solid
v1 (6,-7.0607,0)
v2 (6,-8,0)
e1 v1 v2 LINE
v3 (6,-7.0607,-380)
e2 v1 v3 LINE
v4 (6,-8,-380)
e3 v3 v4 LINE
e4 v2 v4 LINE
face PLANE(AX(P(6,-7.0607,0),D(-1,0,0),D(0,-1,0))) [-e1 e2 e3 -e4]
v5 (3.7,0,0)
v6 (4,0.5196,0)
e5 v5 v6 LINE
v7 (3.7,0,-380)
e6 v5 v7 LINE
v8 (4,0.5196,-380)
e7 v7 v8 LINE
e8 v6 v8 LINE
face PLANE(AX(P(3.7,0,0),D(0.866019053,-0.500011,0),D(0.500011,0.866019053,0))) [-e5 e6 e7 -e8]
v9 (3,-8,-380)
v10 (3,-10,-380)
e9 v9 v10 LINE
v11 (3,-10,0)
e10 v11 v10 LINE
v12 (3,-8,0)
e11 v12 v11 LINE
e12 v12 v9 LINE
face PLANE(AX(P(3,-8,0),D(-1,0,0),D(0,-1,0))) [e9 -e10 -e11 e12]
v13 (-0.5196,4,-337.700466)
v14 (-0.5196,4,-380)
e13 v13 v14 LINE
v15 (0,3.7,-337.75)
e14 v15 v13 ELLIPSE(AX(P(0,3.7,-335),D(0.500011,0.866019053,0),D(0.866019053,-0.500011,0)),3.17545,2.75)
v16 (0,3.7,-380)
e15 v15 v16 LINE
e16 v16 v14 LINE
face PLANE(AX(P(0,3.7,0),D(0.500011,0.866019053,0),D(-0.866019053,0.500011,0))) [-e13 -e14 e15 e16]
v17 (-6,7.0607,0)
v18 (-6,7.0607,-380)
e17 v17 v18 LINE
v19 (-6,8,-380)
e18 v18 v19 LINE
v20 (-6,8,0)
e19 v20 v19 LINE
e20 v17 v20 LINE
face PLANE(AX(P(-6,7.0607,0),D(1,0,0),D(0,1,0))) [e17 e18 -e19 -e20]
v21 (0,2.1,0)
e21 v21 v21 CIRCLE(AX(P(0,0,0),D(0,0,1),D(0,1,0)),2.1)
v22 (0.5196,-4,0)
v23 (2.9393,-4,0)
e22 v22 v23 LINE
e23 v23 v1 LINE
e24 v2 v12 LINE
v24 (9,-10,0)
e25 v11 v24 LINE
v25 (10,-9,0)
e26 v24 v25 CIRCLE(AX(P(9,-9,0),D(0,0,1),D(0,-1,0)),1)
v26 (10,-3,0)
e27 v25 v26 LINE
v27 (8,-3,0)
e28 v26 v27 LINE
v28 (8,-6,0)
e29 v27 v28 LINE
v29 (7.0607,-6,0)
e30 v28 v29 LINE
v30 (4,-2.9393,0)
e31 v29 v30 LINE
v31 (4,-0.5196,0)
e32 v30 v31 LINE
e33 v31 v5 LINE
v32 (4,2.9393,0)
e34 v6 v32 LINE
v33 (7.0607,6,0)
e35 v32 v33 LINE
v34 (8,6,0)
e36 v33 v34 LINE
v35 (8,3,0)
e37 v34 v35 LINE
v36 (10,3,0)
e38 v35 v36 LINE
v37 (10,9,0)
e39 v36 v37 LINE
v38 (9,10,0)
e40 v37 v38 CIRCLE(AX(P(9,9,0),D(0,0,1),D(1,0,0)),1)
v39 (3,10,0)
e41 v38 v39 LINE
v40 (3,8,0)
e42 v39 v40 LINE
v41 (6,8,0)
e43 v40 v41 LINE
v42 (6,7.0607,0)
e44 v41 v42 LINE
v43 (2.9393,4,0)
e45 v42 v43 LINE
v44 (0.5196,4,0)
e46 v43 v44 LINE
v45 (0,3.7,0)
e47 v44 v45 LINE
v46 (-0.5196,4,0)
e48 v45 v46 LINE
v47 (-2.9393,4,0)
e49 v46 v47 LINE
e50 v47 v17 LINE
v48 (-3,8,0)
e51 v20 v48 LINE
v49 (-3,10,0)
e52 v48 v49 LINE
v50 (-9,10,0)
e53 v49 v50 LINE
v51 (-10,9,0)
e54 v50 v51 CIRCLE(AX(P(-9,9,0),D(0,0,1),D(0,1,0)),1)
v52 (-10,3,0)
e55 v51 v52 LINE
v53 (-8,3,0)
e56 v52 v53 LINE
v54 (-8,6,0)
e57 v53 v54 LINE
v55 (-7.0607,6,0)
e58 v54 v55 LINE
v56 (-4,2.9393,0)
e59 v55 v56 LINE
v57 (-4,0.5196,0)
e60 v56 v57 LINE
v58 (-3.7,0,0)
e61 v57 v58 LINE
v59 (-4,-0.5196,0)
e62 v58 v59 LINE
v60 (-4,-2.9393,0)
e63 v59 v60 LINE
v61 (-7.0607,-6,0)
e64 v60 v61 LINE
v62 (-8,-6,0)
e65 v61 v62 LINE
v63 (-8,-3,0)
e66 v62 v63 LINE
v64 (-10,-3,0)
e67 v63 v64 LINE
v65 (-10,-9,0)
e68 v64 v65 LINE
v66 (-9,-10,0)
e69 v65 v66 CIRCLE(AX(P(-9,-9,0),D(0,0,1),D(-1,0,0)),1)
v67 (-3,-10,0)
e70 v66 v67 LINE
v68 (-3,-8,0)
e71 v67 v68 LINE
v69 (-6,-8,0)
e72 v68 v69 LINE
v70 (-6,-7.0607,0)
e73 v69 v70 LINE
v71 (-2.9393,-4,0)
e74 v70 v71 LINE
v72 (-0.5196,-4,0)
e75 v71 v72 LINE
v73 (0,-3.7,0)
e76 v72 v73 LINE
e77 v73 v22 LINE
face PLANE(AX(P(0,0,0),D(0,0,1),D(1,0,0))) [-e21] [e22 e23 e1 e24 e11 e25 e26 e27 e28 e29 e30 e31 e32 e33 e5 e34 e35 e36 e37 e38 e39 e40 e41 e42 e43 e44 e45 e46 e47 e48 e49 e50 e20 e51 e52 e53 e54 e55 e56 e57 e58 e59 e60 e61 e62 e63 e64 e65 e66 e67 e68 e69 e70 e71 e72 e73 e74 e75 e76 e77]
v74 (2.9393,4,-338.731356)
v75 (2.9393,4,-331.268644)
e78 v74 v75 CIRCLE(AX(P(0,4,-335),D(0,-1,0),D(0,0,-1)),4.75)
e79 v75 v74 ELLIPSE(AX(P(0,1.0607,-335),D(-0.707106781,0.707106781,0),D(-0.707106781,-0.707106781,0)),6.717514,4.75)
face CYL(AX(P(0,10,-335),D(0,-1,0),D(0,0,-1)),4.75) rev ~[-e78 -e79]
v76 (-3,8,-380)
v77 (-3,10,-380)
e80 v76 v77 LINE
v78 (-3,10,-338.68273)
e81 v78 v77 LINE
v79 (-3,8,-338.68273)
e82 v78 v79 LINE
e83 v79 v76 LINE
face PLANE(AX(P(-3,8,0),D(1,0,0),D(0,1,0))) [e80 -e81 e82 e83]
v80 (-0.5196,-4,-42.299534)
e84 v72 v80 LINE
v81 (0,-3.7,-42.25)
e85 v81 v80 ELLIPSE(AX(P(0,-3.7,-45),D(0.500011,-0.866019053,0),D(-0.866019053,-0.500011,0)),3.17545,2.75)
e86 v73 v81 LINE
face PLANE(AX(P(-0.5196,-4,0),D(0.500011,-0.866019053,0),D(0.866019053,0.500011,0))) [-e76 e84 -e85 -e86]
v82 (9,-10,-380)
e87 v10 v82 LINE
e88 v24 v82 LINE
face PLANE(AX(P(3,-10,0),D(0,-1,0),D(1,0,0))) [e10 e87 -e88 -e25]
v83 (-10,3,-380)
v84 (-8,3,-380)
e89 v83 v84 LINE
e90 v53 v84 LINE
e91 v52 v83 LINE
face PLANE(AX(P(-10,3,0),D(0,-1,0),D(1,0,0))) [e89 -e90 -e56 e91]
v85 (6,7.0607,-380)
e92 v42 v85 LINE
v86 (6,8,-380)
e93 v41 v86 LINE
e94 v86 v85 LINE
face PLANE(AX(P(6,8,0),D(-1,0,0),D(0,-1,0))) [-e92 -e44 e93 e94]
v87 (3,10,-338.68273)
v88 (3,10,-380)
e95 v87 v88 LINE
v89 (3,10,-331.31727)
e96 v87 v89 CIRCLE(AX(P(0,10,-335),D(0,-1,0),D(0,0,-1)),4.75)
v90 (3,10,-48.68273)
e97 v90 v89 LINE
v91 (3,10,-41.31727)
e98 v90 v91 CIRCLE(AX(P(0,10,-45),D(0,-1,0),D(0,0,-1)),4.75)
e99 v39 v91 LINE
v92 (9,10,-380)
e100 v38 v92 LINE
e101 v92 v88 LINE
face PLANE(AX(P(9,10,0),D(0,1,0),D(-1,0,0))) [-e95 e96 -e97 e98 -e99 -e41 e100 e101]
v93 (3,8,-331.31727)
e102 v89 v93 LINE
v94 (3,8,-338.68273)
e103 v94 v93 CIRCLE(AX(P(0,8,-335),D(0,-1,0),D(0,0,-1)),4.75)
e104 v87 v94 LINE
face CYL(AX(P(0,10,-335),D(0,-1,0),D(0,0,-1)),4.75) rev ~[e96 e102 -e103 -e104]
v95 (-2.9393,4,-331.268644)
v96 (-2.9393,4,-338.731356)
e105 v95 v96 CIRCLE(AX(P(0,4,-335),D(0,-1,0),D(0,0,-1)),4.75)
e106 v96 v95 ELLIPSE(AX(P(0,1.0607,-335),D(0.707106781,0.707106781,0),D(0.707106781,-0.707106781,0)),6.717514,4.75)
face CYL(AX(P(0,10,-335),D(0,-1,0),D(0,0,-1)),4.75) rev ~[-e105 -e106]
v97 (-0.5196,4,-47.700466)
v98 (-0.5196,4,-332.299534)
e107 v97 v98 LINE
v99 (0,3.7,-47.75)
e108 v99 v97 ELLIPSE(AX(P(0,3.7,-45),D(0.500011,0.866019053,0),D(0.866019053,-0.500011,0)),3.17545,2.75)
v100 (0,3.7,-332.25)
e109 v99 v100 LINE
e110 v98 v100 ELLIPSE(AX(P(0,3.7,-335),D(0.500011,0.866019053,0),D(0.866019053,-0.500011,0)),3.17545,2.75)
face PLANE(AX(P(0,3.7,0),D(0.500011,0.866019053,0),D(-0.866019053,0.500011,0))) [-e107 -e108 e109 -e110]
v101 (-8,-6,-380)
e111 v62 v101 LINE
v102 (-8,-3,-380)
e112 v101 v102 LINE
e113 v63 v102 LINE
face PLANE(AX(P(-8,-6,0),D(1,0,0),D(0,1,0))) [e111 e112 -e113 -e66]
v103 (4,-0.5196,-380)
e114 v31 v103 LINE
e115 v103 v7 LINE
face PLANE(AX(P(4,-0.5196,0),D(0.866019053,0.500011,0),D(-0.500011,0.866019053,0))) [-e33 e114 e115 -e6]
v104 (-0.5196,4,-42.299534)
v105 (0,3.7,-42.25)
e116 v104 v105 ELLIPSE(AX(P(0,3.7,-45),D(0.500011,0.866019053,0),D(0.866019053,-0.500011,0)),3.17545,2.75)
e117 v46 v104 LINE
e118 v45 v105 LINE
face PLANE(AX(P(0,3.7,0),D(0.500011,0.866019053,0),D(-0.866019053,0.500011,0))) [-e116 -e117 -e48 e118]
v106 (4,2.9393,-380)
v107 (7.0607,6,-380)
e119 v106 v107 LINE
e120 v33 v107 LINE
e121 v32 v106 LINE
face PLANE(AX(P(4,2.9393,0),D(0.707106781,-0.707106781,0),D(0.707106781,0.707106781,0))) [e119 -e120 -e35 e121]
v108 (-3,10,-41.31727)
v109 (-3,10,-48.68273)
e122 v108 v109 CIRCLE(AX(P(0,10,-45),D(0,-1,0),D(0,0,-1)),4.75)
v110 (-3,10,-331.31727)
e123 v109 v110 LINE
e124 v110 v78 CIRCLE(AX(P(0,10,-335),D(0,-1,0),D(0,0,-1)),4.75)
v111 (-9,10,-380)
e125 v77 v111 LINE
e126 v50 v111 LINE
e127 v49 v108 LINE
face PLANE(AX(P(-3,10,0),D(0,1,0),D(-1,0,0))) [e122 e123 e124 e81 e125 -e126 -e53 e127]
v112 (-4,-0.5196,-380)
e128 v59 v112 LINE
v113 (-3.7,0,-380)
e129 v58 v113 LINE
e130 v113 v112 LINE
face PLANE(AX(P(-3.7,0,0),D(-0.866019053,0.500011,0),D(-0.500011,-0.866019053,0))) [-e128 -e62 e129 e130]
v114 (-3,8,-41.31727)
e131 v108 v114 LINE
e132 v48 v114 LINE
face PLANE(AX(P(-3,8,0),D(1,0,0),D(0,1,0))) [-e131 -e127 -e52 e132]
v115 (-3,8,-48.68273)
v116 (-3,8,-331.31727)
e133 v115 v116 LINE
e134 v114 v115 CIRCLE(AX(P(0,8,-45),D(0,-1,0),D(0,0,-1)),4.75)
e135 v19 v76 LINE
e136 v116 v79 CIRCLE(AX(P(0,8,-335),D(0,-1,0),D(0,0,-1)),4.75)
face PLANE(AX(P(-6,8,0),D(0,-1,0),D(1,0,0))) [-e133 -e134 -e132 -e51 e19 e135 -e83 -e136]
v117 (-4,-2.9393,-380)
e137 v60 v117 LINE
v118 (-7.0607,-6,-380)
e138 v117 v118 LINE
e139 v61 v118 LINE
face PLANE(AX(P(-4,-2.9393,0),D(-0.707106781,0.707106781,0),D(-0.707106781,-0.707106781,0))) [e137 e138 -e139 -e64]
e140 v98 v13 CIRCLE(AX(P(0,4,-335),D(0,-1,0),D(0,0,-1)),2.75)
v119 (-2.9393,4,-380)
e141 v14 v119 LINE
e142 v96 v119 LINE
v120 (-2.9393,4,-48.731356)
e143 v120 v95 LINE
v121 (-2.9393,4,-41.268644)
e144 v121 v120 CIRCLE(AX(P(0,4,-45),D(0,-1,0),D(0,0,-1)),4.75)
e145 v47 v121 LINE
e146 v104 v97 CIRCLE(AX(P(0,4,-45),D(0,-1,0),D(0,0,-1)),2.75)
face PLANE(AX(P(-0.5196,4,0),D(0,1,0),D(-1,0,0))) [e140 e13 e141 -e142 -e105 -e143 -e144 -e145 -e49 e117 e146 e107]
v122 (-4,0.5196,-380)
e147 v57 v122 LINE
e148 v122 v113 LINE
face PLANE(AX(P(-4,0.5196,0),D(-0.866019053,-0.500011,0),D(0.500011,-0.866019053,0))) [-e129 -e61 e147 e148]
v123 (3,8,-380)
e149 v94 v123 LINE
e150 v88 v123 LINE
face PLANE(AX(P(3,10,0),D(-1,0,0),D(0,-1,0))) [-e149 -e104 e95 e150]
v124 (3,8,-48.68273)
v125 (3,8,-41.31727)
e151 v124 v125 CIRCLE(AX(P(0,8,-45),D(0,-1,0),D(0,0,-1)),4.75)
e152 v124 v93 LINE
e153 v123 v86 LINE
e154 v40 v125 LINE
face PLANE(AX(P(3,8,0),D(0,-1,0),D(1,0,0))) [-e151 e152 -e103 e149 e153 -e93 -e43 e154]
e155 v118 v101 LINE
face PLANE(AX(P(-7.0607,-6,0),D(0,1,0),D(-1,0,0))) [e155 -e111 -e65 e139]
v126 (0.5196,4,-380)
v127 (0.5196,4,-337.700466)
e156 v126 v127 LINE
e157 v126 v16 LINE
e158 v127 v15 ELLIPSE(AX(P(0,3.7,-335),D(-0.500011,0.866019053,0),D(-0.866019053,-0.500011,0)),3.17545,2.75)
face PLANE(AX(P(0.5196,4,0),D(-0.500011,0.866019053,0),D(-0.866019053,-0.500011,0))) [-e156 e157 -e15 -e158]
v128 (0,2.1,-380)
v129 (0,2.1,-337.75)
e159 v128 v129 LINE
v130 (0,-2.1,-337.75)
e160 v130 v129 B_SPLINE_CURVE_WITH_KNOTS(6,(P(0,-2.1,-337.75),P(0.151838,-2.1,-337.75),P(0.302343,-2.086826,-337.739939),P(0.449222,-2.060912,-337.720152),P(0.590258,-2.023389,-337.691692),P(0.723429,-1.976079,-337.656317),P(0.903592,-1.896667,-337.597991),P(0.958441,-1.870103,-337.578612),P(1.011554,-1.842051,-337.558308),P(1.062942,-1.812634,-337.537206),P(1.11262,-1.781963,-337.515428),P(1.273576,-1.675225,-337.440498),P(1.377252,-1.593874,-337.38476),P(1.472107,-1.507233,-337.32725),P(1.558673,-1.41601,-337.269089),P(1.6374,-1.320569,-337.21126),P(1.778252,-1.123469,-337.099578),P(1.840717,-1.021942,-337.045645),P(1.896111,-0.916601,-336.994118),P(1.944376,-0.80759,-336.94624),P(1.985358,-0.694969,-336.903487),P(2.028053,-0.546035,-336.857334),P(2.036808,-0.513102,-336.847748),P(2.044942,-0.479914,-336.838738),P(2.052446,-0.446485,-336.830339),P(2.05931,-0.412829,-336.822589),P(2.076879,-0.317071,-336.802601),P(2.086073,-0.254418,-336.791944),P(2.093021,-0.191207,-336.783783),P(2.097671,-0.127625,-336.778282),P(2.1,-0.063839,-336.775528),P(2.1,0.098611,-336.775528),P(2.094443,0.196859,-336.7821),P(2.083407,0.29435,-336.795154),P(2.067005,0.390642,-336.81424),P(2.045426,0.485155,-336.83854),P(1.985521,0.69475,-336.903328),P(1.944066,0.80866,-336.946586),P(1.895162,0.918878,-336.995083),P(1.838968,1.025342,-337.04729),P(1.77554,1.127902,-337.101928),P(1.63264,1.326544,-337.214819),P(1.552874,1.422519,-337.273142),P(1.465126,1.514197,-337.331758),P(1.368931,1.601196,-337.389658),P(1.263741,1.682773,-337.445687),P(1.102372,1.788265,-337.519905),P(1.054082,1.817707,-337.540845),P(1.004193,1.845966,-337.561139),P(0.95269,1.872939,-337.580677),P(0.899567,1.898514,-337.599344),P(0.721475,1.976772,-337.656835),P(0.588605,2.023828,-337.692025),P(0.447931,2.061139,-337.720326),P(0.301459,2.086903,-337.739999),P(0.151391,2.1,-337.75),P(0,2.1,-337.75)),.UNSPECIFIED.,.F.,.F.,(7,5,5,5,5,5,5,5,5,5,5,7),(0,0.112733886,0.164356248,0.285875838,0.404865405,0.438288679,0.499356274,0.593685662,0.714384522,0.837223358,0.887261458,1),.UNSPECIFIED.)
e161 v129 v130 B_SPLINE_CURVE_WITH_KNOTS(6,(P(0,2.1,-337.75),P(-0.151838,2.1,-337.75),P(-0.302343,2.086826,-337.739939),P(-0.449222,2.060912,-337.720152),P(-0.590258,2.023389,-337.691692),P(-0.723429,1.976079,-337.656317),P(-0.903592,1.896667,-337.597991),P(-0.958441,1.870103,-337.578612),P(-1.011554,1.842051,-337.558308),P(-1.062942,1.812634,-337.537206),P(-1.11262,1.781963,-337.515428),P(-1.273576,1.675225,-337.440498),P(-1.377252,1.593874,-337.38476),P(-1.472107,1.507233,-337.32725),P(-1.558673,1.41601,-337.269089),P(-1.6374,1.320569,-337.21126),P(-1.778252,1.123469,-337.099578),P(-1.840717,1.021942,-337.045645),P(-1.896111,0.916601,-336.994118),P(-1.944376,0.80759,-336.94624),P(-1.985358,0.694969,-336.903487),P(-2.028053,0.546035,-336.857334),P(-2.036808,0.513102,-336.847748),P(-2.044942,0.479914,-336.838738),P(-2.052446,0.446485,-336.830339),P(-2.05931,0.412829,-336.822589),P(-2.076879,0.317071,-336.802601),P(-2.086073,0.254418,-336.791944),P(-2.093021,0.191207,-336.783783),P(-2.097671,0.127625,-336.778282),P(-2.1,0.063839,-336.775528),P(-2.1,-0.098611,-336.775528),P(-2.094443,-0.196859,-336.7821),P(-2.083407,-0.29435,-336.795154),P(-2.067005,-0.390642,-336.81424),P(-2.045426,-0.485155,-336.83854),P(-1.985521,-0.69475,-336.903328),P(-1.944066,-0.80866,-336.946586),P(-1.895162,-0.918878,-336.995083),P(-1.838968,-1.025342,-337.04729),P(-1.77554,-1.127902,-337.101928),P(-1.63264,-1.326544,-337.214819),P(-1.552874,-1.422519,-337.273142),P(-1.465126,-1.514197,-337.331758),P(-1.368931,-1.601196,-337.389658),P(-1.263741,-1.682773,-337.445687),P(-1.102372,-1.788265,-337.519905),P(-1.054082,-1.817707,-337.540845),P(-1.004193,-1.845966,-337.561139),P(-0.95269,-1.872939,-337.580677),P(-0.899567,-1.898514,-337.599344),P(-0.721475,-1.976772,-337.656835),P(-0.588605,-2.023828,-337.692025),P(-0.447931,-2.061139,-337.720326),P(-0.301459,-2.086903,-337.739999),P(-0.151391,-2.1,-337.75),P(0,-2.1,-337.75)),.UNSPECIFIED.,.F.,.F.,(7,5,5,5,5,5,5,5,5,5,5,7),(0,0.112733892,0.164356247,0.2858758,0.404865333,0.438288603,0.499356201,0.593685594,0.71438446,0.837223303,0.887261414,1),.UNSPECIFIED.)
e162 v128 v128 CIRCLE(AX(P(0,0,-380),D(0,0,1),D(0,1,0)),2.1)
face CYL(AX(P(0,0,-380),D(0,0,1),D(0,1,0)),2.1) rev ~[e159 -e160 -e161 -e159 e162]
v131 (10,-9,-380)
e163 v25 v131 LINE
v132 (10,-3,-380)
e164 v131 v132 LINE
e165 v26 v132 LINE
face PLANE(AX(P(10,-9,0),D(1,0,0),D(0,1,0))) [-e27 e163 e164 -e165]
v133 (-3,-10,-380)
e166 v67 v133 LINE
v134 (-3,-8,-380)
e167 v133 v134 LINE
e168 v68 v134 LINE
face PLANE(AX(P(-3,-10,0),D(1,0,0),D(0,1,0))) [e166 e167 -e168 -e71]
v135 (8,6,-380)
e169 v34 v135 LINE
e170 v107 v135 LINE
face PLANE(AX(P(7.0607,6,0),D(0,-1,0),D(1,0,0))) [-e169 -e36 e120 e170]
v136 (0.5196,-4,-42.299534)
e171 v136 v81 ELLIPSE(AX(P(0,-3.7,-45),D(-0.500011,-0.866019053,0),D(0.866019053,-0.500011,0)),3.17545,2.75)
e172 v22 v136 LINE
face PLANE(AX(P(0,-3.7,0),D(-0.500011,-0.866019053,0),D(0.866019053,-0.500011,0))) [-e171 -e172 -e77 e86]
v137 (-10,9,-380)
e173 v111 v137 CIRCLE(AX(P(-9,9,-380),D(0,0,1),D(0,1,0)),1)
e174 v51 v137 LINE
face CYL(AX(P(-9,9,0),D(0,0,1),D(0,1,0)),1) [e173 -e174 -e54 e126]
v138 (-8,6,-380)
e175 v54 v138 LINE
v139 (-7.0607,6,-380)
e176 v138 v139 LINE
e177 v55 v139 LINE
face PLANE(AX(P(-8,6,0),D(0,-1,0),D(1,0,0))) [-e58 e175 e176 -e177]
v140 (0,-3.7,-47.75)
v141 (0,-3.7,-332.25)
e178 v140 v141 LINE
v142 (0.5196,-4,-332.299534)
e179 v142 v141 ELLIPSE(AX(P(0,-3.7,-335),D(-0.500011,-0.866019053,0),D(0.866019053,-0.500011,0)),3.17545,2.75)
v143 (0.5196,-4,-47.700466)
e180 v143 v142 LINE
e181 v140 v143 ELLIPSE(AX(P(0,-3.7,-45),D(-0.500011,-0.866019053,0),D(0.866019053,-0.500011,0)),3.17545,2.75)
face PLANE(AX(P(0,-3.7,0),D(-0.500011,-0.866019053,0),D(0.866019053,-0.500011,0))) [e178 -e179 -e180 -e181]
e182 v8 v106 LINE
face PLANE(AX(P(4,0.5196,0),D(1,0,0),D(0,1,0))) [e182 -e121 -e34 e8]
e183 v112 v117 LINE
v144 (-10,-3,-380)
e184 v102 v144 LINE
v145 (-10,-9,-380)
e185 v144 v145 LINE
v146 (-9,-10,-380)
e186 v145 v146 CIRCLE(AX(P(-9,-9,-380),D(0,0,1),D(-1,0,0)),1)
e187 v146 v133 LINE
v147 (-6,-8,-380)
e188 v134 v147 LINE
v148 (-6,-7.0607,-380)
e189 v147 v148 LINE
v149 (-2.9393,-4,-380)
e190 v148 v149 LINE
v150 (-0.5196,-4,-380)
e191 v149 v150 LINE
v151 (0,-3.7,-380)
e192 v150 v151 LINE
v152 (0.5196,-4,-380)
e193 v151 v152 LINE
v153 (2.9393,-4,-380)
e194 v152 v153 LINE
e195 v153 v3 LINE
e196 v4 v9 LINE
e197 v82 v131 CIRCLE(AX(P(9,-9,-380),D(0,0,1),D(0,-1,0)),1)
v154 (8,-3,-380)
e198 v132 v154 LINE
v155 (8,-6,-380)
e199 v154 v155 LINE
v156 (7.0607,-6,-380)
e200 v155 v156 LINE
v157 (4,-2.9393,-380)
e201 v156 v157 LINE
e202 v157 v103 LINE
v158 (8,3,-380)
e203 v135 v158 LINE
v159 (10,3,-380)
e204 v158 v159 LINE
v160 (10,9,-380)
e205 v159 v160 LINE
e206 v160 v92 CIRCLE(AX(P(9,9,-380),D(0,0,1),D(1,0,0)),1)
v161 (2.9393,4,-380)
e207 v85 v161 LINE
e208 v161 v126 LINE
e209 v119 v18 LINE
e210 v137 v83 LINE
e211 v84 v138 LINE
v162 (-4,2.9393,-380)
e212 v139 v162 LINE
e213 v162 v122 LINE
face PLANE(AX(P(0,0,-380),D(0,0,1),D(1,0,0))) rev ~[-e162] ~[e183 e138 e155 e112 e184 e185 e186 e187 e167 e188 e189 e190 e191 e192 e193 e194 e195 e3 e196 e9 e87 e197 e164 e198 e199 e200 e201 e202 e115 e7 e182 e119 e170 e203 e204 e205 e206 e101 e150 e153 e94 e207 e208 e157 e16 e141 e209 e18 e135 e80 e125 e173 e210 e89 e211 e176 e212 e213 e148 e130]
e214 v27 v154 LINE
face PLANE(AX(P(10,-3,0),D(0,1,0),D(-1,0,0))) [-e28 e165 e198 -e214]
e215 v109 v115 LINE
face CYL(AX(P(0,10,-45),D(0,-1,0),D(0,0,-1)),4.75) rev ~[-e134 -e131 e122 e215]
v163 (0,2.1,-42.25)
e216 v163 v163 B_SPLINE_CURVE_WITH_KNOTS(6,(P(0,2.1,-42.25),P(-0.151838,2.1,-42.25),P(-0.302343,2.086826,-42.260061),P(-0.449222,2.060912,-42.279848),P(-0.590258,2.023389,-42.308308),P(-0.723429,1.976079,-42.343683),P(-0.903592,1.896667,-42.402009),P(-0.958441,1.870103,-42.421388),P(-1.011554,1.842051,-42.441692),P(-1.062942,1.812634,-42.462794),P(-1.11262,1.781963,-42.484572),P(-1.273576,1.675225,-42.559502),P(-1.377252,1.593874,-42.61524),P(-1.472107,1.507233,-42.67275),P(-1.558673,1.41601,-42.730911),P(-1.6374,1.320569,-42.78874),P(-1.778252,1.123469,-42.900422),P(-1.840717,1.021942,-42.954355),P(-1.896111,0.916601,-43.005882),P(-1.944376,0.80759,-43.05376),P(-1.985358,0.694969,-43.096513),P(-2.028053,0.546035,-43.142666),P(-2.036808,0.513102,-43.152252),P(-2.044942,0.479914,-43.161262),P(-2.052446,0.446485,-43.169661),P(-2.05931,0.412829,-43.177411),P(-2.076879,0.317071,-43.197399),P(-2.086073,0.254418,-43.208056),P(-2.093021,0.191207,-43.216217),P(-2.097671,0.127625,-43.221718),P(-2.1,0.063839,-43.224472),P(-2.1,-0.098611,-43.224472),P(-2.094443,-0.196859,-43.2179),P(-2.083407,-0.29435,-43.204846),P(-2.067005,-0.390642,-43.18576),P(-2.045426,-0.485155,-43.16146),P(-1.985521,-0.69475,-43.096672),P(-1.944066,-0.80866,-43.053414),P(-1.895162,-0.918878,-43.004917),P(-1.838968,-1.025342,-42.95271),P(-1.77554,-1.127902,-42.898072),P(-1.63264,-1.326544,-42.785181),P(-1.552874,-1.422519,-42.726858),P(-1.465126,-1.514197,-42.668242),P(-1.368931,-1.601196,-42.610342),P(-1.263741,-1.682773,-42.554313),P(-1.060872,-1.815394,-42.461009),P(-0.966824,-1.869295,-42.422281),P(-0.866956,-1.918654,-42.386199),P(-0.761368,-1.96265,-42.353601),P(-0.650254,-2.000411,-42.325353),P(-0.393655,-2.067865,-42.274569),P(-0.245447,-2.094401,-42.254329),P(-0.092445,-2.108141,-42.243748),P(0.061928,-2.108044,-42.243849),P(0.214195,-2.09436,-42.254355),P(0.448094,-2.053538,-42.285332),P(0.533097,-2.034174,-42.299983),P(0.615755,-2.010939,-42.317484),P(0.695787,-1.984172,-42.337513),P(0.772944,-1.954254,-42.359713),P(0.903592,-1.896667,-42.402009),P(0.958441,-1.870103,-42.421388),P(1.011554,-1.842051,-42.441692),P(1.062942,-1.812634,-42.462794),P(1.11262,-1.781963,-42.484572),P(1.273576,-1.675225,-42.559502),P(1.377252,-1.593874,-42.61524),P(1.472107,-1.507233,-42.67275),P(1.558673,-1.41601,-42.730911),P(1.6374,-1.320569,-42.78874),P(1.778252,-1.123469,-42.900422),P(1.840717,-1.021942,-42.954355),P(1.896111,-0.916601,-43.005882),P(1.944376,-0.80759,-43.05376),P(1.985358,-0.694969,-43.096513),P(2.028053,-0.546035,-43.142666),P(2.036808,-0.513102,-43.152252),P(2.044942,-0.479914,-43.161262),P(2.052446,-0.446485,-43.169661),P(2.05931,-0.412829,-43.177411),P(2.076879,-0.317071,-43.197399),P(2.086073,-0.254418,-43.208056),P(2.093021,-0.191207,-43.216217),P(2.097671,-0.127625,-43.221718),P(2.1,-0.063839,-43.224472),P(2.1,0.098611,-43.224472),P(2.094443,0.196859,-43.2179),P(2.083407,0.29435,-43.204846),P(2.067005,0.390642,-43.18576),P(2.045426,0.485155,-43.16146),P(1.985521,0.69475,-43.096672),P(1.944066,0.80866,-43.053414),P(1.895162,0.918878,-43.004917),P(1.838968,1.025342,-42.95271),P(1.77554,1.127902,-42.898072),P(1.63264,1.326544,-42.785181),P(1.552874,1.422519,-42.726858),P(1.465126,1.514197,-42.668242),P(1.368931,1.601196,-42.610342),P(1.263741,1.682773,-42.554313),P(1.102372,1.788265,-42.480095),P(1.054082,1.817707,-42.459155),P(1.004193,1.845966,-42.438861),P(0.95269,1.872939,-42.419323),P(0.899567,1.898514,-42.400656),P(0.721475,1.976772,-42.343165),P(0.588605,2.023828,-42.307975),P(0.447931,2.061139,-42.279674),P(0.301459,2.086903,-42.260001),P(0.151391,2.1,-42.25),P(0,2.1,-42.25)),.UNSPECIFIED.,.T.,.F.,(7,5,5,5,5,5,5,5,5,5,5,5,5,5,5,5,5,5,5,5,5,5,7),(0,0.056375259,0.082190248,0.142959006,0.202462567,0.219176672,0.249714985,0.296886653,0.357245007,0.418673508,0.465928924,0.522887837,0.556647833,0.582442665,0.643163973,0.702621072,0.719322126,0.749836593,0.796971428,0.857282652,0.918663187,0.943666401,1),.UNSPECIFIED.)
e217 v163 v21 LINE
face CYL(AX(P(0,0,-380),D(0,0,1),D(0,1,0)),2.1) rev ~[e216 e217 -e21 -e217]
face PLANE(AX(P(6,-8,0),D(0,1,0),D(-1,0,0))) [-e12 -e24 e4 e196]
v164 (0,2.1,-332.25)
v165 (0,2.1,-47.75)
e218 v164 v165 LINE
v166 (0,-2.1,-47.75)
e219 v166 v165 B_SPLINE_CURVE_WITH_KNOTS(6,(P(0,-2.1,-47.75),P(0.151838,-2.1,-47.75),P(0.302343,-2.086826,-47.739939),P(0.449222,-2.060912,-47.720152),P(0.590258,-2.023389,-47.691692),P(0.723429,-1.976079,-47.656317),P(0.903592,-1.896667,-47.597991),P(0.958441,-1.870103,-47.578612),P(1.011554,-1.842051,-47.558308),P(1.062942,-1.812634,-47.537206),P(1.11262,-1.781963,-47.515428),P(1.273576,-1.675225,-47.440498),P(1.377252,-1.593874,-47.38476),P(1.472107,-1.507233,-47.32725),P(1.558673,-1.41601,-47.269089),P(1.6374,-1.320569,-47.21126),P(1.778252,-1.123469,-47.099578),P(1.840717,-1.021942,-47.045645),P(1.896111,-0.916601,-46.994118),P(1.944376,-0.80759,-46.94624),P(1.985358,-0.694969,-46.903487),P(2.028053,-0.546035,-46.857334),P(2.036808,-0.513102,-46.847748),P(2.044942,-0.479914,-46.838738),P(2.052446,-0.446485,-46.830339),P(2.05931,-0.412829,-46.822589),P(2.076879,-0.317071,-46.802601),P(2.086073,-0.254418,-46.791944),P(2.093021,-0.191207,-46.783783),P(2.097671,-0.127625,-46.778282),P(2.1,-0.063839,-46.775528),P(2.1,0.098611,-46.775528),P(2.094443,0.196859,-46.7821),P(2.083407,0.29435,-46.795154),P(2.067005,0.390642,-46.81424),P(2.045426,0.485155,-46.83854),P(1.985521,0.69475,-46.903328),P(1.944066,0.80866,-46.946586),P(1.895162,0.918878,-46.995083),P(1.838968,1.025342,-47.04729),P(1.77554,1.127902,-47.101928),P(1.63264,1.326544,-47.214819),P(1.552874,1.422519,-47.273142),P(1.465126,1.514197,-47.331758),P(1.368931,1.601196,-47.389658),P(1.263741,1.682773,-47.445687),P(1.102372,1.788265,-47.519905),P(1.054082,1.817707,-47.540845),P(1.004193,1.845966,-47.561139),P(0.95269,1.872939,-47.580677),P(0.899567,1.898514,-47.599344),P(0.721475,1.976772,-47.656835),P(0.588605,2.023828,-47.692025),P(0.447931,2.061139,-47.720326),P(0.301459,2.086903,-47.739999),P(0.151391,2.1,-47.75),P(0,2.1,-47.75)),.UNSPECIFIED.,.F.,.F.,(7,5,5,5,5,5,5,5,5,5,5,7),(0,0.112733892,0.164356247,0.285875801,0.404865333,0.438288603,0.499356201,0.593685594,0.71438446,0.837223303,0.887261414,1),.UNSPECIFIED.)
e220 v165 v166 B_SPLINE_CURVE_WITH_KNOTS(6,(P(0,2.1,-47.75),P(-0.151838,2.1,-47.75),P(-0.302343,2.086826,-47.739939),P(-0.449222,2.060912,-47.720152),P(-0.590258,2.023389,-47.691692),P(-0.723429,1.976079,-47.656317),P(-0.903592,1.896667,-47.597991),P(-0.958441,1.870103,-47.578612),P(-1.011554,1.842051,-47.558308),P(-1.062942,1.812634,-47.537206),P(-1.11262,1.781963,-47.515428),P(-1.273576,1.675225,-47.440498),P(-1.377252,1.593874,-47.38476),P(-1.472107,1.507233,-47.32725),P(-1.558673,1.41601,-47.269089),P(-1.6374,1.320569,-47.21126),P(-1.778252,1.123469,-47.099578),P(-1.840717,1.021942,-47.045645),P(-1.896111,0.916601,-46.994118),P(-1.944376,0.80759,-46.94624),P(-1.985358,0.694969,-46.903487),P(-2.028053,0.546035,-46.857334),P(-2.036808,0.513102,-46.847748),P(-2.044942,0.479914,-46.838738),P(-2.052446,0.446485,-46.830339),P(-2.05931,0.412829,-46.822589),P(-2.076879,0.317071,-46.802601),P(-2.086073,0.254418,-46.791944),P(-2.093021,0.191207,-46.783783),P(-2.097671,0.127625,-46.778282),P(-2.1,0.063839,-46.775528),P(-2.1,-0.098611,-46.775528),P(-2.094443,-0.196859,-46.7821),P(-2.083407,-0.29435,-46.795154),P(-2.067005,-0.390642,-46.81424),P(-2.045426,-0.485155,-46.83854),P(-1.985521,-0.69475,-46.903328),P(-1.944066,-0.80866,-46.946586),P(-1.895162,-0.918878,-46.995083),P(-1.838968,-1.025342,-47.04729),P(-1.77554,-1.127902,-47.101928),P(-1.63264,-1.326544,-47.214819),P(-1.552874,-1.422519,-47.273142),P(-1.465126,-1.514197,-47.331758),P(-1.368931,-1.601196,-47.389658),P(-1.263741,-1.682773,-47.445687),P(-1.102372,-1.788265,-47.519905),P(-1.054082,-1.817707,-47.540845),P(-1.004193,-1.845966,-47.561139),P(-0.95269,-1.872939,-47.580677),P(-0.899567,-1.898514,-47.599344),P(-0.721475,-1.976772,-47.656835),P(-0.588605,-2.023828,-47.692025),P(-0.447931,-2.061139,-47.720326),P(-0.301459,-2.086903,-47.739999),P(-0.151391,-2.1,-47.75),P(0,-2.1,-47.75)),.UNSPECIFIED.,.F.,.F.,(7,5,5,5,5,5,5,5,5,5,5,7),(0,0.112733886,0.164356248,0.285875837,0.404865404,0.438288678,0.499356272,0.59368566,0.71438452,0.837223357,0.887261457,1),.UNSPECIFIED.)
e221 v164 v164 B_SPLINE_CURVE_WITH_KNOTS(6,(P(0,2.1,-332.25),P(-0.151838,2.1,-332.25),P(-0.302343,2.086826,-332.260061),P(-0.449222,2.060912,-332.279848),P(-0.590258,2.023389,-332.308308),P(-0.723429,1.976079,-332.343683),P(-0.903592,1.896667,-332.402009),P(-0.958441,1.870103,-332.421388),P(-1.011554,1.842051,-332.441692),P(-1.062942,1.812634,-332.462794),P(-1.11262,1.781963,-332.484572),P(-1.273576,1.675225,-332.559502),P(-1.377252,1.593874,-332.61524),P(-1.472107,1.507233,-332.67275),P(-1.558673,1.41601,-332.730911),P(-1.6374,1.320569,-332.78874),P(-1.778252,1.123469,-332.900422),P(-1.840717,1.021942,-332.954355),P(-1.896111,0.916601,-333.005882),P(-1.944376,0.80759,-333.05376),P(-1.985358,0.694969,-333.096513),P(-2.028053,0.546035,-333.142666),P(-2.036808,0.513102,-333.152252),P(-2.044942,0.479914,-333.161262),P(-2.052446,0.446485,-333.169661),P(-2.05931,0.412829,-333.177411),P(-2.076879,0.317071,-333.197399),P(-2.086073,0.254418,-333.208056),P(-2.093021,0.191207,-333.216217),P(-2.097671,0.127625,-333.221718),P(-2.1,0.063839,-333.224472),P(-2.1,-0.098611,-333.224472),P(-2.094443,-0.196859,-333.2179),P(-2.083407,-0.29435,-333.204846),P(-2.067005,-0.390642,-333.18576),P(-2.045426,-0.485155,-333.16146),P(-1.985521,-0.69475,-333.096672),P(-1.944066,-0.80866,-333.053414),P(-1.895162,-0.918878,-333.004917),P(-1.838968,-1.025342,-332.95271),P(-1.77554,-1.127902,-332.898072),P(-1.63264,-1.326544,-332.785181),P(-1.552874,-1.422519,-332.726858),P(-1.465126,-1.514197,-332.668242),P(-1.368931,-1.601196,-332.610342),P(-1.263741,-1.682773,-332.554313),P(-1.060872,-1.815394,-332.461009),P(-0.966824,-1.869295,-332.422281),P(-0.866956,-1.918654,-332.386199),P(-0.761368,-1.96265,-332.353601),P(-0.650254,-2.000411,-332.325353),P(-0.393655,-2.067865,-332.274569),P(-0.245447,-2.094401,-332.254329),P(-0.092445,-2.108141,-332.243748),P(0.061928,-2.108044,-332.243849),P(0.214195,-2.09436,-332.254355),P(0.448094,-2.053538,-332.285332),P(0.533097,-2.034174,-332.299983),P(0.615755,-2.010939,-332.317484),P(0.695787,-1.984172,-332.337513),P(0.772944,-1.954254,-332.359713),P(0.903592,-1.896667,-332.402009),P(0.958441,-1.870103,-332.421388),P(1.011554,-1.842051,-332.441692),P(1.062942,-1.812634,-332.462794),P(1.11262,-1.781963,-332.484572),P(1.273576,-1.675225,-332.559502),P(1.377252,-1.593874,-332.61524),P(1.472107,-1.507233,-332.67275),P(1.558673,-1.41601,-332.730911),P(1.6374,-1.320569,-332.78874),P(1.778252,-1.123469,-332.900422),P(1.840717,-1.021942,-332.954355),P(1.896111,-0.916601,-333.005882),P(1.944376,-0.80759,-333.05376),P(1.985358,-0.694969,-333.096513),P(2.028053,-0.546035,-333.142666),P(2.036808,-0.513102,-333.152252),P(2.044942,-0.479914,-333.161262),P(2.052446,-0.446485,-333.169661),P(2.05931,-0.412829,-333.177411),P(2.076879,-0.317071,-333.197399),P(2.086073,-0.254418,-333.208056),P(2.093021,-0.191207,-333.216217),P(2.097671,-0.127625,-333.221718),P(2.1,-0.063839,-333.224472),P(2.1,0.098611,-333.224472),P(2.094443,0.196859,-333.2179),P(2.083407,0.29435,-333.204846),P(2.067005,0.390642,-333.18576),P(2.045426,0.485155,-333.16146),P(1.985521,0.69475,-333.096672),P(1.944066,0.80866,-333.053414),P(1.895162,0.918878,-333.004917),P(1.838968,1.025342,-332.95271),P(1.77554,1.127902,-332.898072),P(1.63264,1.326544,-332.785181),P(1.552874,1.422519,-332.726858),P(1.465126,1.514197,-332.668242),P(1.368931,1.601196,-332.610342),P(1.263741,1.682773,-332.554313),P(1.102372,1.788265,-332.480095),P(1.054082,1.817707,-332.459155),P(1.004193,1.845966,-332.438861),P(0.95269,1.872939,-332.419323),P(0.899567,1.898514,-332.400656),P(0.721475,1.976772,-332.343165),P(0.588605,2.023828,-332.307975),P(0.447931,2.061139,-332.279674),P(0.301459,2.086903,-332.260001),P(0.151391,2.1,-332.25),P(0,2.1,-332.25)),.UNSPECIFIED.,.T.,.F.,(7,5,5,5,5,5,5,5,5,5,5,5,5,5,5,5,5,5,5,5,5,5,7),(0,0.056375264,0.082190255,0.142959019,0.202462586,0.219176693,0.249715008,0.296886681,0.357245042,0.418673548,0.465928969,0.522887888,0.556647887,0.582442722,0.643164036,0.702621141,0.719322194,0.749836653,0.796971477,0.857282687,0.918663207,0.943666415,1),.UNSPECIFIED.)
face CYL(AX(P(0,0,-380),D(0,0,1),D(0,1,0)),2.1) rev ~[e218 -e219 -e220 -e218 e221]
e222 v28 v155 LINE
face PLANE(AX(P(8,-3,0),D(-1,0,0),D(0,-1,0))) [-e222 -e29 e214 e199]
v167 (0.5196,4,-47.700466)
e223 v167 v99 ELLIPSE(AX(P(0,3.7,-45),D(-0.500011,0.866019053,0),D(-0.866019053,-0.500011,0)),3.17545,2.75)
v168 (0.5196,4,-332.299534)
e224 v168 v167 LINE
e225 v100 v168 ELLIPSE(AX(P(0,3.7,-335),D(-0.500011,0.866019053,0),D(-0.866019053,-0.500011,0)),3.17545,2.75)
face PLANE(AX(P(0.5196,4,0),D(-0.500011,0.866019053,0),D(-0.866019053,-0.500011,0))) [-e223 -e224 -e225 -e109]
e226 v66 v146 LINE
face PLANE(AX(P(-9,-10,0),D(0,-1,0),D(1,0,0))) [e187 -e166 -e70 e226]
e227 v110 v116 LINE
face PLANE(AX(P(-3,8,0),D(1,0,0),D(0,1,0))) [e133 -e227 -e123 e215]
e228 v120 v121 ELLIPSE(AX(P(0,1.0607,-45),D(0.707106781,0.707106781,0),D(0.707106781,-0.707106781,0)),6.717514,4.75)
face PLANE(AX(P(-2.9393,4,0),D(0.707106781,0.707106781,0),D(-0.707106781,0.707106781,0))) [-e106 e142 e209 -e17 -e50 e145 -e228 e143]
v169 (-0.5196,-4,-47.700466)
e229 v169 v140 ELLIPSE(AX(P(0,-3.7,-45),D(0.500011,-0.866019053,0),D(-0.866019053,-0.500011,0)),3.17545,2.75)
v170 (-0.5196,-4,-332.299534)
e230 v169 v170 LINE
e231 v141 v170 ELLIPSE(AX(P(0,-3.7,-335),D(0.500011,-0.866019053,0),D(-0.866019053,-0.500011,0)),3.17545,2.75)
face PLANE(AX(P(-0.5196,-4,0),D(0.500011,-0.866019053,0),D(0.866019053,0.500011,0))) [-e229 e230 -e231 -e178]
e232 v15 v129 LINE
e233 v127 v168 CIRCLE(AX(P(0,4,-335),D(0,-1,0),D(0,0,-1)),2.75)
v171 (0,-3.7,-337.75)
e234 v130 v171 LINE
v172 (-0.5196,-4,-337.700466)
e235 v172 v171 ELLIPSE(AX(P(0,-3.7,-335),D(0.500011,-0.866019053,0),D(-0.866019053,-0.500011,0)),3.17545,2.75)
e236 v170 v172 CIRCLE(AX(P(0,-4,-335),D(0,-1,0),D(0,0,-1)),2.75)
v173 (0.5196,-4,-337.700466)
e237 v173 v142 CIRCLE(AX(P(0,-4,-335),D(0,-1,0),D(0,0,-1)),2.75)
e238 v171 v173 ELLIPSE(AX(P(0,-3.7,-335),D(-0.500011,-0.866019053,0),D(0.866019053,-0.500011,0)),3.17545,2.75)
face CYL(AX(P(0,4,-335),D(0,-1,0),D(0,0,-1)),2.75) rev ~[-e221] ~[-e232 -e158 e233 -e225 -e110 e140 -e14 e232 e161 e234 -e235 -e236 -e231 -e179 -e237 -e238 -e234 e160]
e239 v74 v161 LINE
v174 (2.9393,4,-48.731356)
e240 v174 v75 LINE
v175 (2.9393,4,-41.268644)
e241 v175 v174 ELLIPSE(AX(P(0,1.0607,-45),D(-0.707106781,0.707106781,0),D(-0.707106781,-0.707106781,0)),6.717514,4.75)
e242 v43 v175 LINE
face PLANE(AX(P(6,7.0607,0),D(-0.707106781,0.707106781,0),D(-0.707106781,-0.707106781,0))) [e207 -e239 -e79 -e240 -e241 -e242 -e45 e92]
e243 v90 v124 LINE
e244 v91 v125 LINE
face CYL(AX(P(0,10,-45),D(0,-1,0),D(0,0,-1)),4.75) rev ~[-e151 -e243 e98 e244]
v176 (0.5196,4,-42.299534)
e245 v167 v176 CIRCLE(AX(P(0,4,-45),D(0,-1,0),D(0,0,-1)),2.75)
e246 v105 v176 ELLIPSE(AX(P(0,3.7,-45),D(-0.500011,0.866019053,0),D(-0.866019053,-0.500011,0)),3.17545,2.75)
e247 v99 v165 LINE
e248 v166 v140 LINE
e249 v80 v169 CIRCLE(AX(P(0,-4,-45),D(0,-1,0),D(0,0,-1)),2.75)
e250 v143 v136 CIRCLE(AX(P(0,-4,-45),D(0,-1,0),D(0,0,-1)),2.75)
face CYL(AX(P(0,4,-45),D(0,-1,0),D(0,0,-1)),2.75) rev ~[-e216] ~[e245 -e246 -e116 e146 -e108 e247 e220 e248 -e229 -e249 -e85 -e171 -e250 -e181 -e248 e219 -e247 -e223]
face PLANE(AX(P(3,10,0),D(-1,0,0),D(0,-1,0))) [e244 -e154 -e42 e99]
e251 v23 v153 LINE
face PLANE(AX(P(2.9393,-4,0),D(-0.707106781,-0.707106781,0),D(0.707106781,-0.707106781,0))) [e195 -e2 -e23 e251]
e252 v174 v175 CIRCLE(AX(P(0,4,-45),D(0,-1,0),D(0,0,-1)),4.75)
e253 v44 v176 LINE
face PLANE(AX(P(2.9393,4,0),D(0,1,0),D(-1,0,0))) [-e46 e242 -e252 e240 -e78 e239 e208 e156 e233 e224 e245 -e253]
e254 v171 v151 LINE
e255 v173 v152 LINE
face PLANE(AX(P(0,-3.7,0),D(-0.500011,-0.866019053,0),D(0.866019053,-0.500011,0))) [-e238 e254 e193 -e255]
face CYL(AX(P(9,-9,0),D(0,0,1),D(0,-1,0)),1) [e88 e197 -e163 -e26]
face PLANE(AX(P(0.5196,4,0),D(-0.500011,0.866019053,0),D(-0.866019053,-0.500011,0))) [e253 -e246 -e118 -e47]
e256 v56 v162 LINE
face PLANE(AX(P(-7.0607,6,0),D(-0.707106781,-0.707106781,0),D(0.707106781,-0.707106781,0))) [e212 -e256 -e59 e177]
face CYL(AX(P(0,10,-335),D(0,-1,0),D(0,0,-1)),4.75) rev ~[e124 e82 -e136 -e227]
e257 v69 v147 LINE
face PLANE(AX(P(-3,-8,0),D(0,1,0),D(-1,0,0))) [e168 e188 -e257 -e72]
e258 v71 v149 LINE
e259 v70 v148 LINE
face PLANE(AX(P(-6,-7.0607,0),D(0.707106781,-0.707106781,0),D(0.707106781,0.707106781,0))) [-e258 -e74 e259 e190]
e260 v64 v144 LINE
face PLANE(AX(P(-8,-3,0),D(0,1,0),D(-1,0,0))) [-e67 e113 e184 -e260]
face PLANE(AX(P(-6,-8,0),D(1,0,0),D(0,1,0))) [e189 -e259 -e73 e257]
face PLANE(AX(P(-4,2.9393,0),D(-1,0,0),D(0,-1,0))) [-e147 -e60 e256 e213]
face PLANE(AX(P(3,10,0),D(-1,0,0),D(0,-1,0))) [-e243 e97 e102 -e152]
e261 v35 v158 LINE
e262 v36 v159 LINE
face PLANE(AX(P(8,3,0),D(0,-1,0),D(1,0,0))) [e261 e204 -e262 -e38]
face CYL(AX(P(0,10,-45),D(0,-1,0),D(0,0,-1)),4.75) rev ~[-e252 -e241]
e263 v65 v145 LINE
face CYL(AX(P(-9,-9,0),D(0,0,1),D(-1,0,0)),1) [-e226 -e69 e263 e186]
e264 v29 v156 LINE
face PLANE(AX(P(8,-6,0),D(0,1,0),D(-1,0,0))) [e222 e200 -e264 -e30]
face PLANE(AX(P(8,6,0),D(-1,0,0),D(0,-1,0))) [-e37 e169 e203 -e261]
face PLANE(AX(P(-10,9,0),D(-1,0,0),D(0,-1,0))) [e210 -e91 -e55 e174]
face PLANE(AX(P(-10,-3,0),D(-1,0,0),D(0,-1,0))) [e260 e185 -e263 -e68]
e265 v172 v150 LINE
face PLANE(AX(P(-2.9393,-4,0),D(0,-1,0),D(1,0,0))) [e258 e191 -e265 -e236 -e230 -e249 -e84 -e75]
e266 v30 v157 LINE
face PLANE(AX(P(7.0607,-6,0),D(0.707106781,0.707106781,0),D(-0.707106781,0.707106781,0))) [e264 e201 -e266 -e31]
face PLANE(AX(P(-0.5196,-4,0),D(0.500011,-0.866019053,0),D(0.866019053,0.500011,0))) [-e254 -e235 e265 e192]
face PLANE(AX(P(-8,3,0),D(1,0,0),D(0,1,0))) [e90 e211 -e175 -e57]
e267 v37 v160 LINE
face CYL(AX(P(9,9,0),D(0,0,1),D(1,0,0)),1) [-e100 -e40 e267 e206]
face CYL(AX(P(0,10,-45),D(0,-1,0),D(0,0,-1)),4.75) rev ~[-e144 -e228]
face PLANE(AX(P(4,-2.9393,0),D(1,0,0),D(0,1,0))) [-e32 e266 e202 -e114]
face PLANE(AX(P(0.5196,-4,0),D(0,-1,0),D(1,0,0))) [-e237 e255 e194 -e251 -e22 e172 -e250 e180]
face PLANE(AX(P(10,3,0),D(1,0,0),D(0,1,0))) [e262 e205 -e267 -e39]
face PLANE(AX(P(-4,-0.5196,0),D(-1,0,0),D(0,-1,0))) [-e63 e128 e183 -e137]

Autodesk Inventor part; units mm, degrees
sketch "Sketch_1" plane through (0, 0, 0) normal (0, 0, 1) x (1, 0, 0)
  line L0 (-10, -3) -> (-10, -9)
  arc A0 (-10, -9) -> (-9, -10) centre (-9, -9) ccw
  line L1 (-9, -10) -> (-3, -10)
  line L2 (-3, -10) -> (-3, -8)
  line L3 (-3, -8) -> (-6, -8)
  line L4 (-6, -8) -> (-6, -7.0607)
  line L5 (-6, -7.0607) -> (-2.9393, -4)
  line L6 (-2.9393, -4) -> (-0.5196, -4)
  line L7 (-0.5196, -4) -> (0, -3.7)
  line L8 (0, -3.7) -> (0.5196, -4)
  line L9 (0.5196, -4) -> (2.9393, -4)
  line L10 (2.9393, -4) -> (6, -7.0607)
  line L11 (6, -7.0607) -> (6, -8)
  line L12 (6, -8) -> (3, -8)
  line L13 (3, -8) -> (3, -10)
  line L14 (3, -10) -> (9, -10)
  arc A1 (9, -10) -> (10, -9) centre (9, -9) ccw
  line L15 (10, -9) -> (10, -3)
  line L16 (10, -3) -> (8, -3)
  line L17 (8, -3) -> (8, -6)
  line L18 (8, -6) -> (7.0607, -6)
  line L19 (7.0607, -6) -> (4, -2.9393)
  line L20 (4, -2.9393) -> (4, -0.5196)
  line L21 (4, -0.5196) -> (3.7, 0)
  line L22 (3.7, 0) -> (4, 0.5196)
  line L23 (4, 0.5196) -> (4, 2.9393)
  line L24 (4, 2.9393) -> (7.0607, 6)
  line L25 (7.0607, 6) -> (8, 6)
  line L26 (8, 6) -> (8, 3)
  line L27 (8, 3) -> (10, 3)
  line L28 (10, 3) -> (10, 9)
  arc A2 (10, 9) -> (9, 10) centre (9, 9) ccw
  line L29 (9, 10) -> (3, 10)
  line L30 (3, 10) -> (3, 8)
  line L31 (3, 8) -> (6, 8)
  line L32 (6, 8) -> (6, 7.0607)
  line L33 (6, 7.0607) -> (2.9393, 4)
  line L34 (2.9393, 4) -> (0.5196, 4)
  line L35 (0.5196, 4) -> (0, 3.7)
  line L36 (0, 3.7) -> (-0.5196, 4)
  line L37 (-0.5196, 4) -> (-2.9393, 4)
  line L38 (-2.9393, 4) -> (-6, 7.0607)
  line L39 (-6, 7.0607) -> (-6, 8)
  line L40 (-6, 8) -> (-3, 8)
  line L41 (-3, 8) -> (-3, 10)
  line L42 (-3, 10) -> (-9, 10)
  arc A3 (-9, 10) -> (-10, 9) centre (-9, 9) ccw
  line L43 (-10, 9) -> (-10, 3)
  line L44 (-10, 3) -> (-8, 3)
  line L45 (-8, 3) -> (-8, 6)
  line L46 (-8, 6) -> (-7.0607, 6)
  line L47 (-7.0607, 6) -> (-4, 2.9393)
  line L48 (-4, 2.9393) -> (-4, 0.5196)
  line L49 (-4, 0.5196) -> (-3.7, 0)
  line L50 (-3.7, 0) -> (-4, -0.5196)
  line L51 (-4, -0.5196) -> (-4, -2.9393)
  line L52 (-4, -2.9393) -> (-7.0607, -6)
  line L53 (-7.0607, -6) -> (-8, -6)
  line L54 (-8, -6) -> (-8, -3)
  line L55 (-8, -3) -> (-10, -3)
extrude "Extrusion1" add sketch "Sketch_1" against normal blind 380
sketch "Sketch2" plane through (0, 0, -380) normal (0, 0, -1) x (-1, 0, 0)
  point P0 (0, 0)
hole "Hole1" at (0, 0, -380) direction (0, 0, 1) diameter 4.2 depth 380
sketch "Sketch_30" plane through (0, 0, 0) normal (1, 0, 0) x (0, 0, -1)
  line L0 (45, -10) -> (45, 10)
  line L1 (45, 10) -> (49.75, 10)
  line L2 (49.75, 10) -> (49.75, 4)
  line L3 (49.75, 4) -> (47.75, 4)
  line L4 (47.75, 4) -> (47.75, -10)
  line L5 (47.75, -10) -> (45, -10)
  line L6 (45, -10) -> (45, 10)
revolve "Revolution1" cut sketch "Sketch_30" angle 360 about axis through (0, -10, -45) along (0, -1, 0)
sketch "Sketch_31" plane through (0, 0, 0) normal (1, 0, 0) x (0, 0, -1)
  line L0 (335, -10) -> (335, 10)
  line L1 (335, 10) -> (339.75, 10)
  line L2 (339.75, 10) -> (339.75, 4)
  line L3 (339.75, 4) -> (337.75, 4)
  line L4 (337.75, 4) -> (337.75, -10)
  line L5 (337.75, -10) -> (335, -10)
  line L6 (335, -10) -> (335, 10)
revolve "Revolution2" cut sketch "Sketch_31" angle 360 about axis through (0, -10, -335) along (0, -1, 0)
ref_plane "C1_XY" through (0, 0, 0) normal (0, 0, 1) x (1, 0, 0)
ref_plane "C1_YZ" through (0, 0, 0) normal (1, 0, 0) x (0, 1, 0)
ref_plane "C1_ZX" through (0, 0, 0) normal (0, 1, 0) x (0, 0, 1)
properties part number "HFS5-2020-380-Z5-XA45-XB335"
